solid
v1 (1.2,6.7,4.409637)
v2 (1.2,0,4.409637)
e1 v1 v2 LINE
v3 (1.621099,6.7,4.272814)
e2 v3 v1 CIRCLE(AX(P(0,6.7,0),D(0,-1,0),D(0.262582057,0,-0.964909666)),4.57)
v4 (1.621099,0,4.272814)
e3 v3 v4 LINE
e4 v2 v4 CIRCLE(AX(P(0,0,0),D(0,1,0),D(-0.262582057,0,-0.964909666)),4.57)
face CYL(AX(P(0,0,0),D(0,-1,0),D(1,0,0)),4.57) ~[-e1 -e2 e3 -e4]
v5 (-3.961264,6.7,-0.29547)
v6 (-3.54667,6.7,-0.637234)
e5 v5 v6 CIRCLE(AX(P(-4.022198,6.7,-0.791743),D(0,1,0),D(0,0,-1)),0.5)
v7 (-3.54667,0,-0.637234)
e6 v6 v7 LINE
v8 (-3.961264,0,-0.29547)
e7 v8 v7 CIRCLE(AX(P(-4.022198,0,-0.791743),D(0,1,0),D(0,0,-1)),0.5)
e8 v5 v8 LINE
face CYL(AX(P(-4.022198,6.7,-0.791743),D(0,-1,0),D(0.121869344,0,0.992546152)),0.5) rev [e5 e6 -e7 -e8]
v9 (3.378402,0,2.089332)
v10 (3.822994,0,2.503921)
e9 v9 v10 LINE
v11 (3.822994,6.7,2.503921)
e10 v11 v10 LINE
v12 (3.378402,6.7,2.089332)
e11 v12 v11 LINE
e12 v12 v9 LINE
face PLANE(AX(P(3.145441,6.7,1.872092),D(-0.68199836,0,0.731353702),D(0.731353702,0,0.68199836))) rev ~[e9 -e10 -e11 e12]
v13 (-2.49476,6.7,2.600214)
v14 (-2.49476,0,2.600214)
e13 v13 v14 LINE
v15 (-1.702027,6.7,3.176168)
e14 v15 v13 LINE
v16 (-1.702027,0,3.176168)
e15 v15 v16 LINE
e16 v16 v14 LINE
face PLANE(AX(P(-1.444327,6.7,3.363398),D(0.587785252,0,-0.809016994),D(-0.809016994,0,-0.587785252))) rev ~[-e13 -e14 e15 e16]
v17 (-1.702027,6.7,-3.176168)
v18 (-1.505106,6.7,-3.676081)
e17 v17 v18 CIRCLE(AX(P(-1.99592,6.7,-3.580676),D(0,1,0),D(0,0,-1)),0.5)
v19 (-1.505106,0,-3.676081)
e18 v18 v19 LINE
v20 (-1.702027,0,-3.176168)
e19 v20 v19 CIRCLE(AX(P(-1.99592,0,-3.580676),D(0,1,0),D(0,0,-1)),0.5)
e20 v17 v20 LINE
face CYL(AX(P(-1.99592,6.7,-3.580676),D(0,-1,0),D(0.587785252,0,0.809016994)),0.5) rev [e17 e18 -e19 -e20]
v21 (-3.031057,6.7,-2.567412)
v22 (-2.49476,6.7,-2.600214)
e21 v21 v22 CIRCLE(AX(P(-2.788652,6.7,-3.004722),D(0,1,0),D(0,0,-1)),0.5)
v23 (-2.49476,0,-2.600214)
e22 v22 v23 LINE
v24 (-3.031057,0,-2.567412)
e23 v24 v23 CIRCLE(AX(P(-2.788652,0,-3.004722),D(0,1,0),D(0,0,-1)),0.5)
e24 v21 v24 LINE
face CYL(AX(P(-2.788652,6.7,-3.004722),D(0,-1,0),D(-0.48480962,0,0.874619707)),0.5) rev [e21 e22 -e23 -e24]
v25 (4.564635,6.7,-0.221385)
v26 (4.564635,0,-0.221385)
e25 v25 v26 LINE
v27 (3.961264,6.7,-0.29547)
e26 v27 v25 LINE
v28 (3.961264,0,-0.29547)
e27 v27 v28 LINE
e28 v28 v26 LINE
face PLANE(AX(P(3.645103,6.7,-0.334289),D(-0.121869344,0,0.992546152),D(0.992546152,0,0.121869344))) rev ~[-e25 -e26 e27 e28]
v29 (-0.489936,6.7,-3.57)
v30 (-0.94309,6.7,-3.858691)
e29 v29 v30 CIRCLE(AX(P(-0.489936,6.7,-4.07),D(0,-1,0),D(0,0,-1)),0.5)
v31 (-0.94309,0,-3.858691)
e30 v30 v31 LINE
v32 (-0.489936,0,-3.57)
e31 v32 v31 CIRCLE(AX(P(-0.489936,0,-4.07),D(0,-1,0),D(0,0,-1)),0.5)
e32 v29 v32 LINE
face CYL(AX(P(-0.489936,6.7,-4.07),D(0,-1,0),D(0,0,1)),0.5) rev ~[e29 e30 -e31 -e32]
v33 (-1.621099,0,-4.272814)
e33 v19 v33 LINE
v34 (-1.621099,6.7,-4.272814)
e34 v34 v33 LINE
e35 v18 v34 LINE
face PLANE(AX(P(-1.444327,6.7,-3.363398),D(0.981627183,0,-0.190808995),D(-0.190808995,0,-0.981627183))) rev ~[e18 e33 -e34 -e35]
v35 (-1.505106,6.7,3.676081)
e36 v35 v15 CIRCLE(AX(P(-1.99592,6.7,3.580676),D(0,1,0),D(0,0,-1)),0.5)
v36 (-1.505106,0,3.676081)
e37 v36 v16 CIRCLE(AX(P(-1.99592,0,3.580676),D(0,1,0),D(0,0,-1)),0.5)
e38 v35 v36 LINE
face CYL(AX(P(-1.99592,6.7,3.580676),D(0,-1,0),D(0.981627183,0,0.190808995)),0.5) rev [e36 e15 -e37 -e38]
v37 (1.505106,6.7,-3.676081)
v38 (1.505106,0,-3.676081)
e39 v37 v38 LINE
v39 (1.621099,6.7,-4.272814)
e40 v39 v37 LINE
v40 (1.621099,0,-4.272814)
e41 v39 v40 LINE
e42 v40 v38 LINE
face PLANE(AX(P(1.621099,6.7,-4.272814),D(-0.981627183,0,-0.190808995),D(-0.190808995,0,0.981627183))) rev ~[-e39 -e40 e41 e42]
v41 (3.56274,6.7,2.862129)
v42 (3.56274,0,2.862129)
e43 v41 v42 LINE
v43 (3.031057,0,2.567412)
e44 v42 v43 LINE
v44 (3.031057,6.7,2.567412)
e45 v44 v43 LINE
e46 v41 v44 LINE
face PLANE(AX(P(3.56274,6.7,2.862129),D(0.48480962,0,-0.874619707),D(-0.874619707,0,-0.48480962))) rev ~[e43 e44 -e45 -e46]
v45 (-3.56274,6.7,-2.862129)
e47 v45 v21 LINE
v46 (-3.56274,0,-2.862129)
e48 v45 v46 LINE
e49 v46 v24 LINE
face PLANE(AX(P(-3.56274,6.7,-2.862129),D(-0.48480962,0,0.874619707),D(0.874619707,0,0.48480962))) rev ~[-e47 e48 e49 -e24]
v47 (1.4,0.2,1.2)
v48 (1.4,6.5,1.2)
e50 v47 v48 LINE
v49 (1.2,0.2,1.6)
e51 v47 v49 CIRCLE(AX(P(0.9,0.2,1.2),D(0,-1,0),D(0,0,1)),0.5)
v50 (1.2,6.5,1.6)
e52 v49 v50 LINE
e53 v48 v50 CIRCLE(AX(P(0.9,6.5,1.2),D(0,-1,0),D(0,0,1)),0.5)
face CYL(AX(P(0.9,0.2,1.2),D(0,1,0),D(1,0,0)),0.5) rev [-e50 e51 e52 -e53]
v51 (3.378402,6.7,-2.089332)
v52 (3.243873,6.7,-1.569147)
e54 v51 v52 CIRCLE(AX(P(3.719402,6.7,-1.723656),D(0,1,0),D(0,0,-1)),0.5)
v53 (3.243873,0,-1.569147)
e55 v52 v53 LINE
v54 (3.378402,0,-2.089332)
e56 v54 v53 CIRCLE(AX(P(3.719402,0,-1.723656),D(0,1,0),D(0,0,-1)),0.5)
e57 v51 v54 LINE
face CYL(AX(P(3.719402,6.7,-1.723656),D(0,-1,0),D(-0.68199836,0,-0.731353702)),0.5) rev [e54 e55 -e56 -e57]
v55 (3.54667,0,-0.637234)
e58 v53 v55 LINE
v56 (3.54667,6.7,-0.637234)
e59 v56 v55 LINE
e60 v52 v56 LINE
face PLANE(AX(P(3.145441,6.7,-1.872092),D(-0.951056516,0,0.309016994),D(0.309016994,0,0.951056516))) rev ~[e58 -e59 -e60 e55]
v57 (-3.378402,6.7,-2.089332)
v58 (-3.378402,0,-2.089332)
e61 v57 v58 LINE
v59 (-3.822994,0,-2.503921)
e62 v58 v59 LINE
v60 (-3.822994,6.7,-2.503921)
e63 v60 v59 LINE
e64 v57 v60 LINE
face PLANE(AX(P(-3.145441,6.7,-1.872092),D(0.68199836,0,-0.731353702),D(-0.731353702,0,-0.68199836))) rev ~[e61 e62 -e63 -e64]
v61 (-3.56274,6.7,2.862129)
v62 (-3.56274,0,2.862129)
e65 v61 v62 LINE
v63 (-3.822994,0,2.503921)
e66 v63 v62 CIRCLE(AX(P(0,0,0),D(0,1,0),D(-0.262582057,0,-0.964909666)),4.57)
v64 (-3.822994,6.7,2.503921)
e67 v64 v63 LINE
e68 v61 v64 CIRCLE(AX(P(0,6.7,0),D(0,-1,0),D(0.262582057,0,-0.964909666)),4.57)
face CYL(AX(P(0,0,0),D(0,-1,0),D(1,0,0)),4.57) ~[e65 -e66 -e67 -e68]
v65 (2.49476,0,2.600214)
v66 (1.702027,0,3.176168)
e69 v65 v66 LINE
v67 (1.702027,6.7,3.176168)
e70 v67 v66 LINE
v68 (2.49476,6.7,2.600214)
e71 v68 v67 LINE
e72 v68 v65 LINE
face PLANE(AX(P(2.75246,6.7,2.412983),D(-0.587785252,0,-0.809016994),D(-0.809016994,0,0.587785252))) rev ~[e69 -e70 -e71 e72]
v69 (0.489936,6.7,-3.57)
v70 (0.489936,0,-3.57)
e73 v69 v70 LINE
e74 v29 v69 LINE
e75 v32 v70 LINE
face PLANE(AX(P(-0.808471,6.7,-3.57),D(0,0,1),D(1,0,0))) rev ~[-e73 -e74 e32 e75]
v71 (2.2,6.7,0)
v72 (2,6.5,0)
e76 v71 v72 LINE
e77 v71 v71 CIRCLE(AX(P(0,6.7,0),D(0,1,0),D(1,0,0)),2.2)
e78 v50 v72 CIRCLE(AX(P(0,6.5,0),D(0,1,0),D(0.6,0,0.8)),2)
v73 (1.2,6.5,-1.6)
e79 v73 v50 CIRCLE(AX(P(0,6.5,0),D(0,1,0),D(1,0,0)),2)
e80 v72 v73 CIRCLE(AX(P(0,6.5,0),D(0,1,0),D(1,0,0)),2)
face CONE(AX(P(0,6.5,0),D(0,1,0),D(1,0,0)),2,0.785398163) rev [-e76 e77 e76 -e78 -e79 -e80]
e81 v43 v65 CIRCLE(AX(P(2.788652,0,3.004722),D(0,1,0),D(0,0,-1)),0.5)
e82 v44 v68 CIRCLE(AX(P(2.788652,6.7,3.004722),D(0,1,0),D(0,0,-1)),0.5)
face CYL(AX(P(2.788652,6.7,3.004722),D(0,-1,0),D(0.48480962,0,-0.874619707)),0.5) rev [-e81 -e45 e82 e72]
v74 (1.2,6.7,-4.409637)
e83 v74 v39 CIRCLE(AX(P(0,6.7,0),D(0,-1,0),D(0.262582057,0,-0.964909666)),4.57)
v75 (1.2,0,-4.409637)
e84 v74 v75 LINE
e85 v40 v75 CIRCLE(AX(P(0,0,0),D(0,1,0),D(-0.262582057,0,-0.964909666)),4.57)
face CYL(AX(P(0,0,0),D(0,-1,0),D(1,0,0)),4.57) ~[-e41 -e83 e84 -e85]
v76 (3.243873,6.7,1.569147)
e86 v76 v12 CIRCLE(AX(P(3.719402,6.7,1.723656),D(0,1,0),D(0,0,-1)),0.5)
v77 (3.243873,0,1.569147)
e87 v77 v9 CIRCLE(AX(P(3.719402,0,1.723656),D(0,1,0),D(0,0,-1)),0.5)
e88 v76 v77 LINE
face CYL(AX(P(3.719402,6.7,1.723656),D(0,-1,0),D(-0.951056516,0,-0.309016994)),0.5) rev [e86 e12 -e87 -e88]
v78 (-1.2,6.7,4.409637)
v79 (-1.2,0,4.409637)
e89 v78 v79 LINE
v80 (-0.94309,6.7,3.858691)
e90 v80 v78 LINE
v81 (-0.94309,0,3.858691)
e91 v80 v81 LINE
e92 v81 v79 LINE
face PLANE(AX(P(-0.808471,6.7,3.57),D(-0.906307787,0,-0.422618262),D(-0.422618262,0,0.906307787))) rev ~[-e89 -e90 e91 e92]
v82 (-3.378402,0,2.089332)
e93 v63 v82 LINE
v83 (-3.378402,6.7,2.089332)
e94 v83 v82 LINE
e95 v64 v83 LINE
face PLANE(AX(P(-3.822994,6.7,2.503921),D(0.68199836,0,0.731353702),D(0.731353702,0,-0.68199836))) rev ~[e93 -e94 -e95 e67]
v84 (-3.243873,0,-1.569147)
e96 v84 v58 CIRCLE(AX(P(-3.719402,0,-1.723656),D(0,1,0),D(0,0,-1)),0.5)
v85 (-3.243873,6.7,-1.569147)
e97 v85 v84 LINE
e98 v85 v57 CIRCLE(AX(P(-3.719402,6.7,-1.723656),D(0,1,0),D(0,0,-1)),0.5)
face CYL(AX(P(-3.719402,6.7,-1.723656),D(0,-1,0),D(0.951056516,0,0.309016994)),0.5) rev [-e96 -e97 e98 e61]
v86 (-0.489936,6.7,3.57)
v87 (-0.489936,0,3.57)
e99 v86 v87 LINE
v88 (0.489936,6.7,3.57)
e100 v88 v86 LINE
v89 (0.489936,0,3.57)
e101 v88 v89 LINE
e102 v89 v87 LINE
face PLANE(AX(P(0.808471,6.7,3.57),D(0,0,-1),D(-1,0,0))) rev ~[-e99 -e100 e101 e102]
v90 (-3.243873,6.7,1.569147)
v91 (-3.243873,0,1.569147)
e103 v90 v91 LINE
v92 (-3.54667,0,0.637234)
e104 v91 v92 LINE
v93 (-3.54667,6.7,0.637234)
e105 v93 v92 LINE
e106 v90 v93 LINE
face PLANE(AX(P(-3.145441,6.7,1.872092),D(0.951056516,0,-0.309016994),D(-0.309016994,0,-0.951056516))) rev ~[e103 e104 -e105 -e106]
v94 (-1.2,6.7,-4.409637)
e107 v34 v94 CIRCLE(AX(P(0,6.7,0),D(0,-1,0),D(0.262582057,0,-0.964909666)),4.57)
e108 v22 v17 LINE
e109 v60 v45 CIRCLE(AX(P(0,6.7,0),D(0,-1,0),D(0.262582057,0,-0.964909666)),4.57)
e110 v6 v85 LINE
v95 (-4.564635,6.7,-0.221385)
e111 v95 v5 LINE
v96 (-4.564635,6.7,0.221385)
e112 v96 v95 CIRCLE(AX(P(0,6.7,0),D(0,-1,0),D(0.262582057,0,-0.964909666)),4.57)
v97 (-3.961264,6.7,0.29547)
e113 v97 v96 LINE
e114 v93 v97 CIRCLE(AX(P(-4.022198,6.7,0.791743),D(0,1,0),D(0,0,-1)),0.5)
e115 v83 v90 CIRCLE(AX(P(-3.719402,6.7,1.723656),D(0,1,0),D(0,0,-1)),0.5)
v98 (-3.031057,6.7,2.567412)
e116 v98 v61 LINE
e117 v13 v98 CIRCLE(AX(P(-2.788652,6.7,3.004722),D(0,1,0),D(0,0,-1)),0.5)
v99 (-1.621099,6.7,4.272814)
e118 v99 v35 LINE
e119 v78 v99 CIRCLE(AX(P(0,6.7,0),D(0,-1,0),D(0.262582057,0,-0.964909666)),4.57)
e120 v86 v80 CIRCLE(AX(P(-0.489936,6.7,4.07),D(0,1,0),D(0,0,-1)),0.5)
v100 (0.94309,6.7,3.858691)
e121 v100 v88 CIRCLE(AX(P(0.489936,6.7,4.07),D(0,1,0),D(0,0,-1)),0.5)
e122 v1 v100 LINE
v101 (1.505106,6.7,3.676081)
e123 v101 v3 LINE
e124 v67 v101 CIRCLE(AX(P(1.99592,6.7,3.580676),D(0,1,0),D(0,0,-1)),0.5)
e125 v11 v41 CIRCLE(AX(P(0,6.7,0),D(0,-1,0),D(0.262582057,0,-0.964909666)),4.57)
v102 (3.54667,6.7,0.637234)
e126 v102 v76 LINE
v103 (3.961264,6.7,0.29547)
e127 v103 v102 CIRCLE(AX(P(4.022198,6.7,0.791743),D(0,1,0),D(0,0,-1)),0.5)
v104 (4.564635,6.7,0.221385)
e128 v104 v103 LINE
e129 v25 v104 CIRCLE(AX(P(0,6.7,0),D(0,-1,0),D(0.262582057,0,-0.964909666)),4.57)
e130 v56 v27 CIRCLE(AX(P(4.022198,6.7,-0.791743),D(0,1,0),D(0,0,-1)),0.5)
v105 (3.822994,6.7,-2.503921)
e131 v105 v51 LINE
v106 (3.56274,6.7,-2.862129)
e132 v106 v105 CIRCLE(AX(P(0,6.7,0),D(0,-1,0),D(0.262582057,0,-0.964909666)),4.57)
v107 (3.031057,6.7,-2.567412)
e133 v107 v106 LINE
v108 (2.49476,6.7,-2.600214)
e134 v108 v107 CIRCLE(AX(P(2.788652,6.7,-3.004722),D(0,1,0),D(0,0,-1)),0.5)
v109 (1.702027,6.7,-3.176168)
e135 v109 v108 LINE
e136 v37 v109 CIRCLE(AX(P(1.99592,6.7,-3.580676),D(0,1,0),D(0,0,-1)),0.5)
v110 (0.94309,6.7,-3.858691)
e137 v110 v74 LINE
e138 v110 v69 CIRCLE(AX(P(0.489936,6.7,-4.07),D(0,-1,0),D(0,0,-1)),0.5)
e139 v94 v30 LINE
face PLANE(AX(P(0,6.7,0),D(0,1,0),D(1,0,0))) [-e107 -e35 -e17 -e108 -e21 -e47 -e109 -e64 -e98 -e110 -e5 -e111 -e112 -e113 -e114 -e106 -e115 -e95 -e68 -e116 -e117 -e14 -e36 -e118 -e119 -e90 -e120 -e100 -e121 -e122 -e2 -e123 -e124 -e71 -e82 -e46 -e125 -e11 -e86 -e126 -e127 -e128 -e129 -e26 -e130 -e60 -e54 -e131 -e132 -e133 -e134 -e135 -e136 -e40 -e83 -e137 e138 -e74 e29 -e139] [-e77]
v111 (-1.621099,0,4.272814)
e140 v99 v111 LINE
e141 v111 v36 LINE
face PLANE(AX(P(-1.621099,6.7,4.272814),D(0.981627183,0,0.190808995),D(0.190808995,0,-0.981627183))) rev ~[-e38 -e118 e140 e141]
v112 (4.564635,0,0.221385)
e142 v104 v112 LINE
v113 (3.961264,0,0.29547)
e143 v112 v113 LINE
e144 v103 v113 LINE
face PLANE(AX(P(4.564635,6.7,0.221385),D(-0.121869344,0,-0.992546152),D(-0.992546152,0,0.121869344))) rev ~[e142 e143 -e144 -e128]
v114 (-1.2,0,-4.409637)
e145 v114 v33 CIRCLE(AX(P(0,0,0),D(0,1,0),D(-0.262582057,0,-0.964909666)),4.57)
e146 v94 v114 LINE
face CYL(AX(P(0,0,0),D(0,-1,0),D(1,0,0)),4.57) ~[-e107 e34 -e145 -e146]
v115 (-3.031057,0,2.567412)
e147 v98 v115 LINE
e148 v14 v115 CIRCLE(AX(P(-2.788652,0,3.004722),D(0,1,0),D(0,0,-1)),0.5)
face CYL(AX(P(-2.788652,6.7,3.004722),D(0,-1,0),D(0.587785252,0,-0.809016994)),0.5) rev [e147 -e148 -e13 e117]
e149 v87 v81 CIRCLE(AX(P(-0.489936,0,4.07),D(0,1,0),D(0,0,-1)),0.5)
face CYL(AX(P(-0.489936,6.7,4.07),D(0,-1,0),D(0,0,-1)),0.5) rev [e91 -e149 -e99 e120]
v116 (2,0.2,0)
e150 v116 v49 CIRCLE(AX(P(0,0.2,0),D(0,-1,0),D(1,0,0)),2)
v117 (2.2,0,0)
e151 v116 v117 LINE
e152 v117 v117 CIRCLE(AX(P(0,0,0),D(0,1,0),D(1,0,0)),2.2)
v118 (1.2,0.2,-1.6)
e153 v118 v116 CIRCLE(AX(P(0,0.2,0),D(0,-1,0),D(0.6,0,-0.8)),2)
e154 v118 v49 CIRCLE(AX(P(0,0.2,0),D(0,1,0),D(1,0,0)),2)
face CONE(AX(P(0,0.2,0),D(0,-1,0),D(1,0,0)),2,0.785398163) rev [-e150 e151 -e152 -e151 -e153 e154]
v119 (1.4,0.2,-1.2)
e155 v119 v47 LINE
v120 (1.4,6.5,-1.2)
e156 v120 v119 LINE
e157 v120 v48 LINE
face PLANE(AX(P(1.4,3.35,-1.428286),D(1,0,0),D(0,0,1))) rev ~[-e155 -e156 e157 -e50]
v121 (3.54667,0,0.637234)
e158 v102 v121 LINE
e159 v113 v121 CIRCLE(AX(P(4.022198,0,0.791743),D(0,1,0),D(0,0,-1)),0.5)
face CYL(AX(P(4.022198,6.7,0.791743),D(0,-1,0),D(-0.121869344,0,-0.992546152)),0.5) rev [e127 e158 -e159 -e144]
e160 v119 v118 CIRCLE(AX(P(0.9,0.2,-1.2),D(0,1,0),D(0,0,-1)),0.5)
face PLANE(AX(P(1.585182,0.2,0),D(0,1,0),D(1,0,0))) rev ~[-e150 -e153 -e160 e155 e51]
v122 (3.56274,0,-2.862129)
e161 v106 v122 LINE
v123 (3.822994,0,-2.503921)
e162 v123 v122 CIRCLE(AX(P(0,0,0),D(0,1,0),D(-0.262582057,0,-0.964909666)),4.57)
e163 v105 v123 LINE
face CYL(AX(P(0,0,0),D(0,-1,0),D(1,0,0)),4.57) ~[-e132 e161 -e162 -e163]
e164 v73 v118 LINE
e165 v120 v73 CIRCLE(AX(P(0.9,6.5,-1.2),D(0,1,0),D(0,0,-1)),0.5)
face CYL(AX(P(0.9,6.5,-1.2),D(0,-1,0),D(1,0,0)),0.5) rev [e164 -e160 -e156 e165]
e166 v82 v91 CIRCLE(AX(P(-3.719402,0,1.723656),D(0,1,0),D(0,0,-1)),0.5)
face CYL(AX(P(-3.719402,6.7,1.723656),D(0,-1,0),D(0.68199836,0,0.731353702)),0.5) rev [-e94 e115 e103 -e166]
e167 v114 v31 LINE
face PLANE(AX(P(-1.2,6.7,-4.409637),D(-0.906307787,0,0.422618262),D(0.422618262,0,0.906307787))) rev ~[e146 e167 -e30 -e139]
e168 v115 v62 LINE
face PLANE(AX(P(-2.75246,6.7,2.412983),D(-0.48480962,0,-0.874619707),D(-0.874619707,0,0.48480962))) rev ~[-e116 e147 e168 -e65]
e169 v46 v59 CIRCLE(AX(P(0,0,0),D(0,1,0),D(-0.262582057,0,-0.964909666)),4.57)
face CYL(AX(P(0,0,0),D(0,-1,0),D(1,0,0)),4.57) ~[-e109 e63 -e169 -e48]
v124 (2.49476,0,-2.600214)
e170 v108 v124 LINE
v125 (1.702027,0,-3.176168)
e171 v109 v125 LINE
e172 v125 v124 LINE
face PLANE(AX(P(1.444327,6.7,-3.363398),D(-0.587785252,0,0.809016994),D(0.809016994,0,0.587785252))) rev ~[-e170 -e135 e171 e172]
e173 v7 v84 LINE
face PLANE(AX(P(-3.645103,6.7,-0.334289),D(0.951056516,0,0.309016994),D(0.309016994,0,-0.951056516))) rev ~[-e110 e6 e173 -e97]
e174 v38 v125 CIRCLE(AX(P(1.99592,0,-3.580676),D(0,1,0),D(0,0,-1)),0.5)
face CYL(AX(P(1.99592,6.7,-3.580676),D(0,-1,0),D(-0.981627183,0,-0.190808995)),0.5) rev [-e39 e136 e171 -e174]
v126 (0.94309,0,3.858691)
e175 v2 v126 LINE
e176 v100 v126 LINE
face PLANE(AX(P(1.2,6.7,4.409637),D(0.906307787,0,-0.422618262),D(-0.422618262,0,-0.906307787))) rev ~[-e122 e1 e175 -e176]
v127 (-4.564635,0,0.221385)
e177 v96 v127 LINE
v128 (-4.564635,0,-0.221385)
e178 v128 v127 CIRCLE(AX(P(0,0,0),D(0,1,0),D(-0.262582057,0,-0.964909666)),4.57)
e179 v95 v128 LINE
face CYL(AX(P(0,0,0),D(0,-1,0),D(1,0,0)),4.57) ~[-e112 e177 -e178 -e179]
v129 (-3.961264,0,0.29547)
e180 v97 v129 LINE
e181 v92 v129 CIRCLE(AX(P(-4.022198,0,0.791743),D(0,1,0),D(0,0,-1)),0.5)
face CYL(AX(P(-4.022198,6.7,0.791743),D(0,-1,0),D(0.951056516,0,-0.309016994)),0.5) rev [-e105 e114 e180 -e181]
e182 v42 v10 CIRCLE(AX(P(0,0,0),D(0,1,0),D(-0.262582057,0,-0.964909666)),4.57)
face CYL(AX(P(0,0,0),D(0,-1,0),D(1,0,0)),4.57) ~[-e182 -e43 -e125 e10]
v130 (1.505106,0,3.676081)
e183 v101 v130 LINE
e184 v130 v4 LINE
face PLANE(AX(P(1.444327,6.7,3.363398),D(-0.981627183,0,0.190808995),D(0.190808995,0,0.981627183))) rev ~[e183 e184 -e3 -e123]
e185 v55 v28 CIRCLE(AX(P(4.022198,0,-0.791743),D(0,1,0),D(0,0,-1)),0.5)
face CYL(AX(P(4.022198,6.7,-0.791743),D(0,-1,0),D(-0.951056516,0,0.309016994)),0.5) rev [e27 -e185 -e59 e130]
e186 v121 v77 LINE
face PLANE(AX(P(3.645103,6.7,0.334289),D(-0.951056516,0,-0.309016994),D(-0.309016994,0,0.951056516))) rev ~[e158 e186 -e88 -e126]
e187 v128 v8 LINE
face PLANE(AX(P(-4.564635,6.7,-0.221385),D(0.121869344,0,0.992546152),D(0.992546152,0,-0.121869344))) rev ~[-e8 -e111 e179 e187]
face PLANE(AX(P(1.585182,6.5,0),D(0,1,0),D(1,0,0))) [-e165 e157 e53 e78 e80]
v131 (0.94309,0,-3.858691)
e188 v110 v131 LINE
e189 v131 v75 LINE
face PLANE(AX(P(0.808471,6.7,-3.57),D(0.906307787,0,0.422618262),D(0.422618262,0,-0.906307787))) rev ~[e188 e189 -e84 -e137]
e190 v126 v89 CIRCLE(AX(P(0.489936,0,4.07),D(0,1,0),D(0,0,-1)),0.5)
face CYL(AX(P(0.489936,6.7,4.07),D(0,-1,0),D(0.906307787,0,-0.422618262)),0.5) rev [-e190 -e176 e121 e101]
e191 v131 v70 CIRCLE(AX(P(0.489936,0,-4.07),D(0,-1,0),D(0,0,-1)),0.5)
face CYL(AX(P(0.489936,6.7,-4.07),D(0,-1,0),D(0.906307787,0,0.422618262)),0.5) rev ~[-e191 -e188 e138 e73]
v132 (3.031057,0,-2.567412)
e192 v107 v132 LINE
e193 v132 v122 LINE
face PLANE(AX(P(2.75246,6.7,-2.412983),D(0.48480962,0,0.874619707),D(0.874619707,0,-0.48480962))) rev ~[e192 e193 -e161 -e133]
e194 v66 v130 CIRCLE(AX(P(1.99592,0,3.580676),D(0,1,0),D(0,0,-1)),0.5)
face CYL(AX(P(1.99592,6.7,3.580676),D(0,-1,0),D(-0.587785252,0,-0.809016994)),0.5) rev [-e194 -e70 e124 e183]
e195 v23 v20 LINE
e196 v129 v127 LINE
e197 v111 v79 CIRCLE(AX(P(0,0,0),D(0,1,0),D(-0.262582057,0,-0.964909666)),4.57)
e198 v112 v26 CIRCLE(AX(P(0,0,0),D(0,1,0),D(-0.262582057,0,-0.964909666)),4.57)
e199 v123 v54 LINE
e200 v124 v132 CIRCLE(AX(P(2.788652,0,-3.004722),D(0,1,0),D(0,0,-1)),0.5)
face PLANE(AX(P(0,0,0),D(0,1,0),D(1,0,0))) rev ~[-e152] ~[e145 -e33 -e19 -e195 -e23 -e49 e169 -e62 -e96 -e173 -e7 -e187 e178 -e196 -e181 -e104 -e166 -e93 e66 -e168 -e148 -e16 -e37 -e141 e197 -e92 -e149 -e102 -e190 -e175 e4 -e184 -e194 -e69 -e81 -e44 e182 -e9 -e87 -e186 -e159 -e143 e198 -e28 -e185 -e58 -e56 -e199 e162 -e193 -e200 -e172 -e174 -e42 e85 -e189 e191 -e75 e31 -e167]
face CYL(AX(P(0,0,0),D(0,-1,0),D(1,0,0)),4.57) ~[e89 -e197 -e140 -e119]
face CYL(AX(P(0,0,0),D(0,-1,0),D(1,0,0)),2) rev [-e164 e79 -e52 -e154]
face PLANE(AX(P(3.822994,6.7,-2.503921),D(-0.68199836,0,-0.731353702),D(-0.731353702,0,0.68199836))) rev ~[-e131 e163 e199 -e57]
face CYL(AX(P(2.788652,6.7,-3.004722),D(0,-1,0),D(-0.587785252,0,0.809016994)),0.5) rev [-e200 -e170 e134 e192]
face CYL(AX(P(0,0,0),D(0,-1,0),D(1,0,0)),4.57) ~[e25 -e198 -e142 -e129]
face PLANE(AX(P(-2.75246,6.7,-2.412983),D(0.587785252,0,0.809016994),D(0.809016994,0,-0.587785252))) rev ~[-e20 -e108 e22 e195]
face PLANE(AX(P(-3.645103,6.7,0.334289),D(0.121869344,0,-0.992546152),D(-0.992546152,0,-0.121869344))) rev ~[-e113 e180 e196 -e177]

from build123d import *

# Parameters (mm, degrees)
SKIZZE1_R                       = 4.57
SKIZZE1_R_2                     = 2
AUFSATZ_LINEAR_AUSTRAGEN1_DEPTH = 6.7
SCHNITT_LINEAR_AUSTRAGEN1_DEPTH = 7.7
VERRUNDUNG1_R                   = 0.5
KREISMUSTER1_COUNT              = 10
VERRUNDUNG1_OF_KREISMUSTER1_R   = 0.5
FASE2_SIZE                      = 0.2
BOSS_EXTRUDE1_DEPTH             = 3.15
BOSS_EXTRUDE1_DEPTH_BACK        = 3.15
FILLET1_R                       = 0.5


with BuildPart() as part:
    # Skizze1 → Aufsatz-Linear austragen1 (new body)
    with BuildSketch(Plane(origin=(0, 0, 0), x_dir=(1, 0, 0), z_dir=(0, 1, 0))):
        Circle(SKIZZE1_R)
        Circle(SKIZZE1_R_2, mode=Mode.SUBTRACT)
    extrude(amount=AUFSATZ_LINEAR_AUSTRAGEN1_DEPTH)

    # Skizze12 → Schnitt-Linear austragen1 (cut, through all)
    with BuildSketch(Plane(origin=(0, 6.7, 0), x_dir=(1, 0, 0), z_dir=(0, 1, 0))):
        with BuildLine():
            Line((-1.2, 4.409637173), (-0.808470756, 3.57))
            Line((-0.808470756, 3.57), (0.808470756, 3.57))
            Line((0.808470756, 3.57), (1.2, 4.409637173))
            ThreePointArc((1.2, 4.409637173), (0, 4.57), (-1.2, 4.409637173))
        make_face()
    schnitt_linear_austragen1 = extrude(amount=-SCHNITT_LINEAR_AUSTRAGEN1_DEPTH, mode=Mode.SUBTRACT)

    # Verrundung1
    verrundung1_edges = [part.edges().sort_by_distance(p)[0] for p in [
        (0.808470756, 3.35, -3.57),
        (-0.808470756, 3.35, -3.57),
    ]]
    fillet(verrundung1_edges, radius=VERRUNDUNG1_R)

    # Kreismuster1: Schnitt-Linear austragen1 ×10 about axis
    kreismuster1_axis = Axis((0, 0, 0), (0, 1, 0))
    for i in range(1, KREISMUSTER1_COUNT):
        add(schnitt_linear_austragen1.rotate(kreismuster1_axis, i * 360 / KREISMUSTER1_COUNT), mode=Mode.SUBTRACT)

    # Verrundung1 of Kreismuster1
    verrundung1_of_kreismuster1_edges = [part.edges().sort_by_distance(p)[0] for p in [
        (-1.44432677, 3.35, -3.363397857),
        (-2.752459932, 3.35, -2.412983483),
        (-3.14544056, 3.35, -1.872092051),
        (-3.645102966, 3.35, -0.334289289),
        (-3.645102966, 3.35, 0.334289289),
        (-3.14544056, 3.35, 1.872092051),
        (-2.752459932, 3.35, 2.412983483),
        (-1.44432677, 3.35, 3.363397857),
        (-0.808470756, 3.35, 3.57),
        (0.808470756, 3.35, 3.57),
        (1.44432677, 3.35, 3.363397857),
        (2.752459932, 3.35, 2.412983483),
        (3.14544056, 3.35, 1.872092051),
        (3.645102966, 3.35, 0.334289289),
        (3.645102966, 3.35, -0.334289289),
        (3.14544056, 3.35, -1.872092051),
        (2.752459932, 3.35, -2.412983483),
        (1.44432677, 3.35, -3.363397857),
    ]]
    fillet(verrundung1_of_kreismuster1_edges, radius=VERRUNDUNG1_OF_KREISMUSTER1_R)

    # Fase2
    fase2_edges = [part.edges().sort_by_distance(p)[0] for p in [
        (-2, 0, 0),
        (-2, 6.7, 0),
    ]]
    chamfer(fase2_edges, length=FASE2_SIZE)

    # Sketch1 → Boss-Extrude1 (add, two sides)
    with BuildSketch(Plane(origin=(0, 3.35, 0), x_dir=(-1, 0, 0), z_dir=(0, -1, 0))) as boss_extrude1_sk:
        with BuildLine():
            Line((-1.4, 1.428285686), (-1.4, -1.428285686))
            ThreePointArc((-1.4, -1.428285686), (-2, 0), (-1.4, 1.428285686))
        make_face()
    extrude(amount=BOSS_EXTRUDE1_DEPTH)
    extrude(boss_extrude1_sk.sketch, amount=-BOSS_EXTRUDE1_DEPTH_BACK)

    # Fillet1
    fillet1_edges = [part.edges().sort_by_distance(p)[0] for p in [
        (1.4, 3.35, 1.428285686),
        (1.4, 3.35, -1.428285686),
    ]]
    fillet(fillet1_edges, radius=FILLET1_R)


solid = part.part
